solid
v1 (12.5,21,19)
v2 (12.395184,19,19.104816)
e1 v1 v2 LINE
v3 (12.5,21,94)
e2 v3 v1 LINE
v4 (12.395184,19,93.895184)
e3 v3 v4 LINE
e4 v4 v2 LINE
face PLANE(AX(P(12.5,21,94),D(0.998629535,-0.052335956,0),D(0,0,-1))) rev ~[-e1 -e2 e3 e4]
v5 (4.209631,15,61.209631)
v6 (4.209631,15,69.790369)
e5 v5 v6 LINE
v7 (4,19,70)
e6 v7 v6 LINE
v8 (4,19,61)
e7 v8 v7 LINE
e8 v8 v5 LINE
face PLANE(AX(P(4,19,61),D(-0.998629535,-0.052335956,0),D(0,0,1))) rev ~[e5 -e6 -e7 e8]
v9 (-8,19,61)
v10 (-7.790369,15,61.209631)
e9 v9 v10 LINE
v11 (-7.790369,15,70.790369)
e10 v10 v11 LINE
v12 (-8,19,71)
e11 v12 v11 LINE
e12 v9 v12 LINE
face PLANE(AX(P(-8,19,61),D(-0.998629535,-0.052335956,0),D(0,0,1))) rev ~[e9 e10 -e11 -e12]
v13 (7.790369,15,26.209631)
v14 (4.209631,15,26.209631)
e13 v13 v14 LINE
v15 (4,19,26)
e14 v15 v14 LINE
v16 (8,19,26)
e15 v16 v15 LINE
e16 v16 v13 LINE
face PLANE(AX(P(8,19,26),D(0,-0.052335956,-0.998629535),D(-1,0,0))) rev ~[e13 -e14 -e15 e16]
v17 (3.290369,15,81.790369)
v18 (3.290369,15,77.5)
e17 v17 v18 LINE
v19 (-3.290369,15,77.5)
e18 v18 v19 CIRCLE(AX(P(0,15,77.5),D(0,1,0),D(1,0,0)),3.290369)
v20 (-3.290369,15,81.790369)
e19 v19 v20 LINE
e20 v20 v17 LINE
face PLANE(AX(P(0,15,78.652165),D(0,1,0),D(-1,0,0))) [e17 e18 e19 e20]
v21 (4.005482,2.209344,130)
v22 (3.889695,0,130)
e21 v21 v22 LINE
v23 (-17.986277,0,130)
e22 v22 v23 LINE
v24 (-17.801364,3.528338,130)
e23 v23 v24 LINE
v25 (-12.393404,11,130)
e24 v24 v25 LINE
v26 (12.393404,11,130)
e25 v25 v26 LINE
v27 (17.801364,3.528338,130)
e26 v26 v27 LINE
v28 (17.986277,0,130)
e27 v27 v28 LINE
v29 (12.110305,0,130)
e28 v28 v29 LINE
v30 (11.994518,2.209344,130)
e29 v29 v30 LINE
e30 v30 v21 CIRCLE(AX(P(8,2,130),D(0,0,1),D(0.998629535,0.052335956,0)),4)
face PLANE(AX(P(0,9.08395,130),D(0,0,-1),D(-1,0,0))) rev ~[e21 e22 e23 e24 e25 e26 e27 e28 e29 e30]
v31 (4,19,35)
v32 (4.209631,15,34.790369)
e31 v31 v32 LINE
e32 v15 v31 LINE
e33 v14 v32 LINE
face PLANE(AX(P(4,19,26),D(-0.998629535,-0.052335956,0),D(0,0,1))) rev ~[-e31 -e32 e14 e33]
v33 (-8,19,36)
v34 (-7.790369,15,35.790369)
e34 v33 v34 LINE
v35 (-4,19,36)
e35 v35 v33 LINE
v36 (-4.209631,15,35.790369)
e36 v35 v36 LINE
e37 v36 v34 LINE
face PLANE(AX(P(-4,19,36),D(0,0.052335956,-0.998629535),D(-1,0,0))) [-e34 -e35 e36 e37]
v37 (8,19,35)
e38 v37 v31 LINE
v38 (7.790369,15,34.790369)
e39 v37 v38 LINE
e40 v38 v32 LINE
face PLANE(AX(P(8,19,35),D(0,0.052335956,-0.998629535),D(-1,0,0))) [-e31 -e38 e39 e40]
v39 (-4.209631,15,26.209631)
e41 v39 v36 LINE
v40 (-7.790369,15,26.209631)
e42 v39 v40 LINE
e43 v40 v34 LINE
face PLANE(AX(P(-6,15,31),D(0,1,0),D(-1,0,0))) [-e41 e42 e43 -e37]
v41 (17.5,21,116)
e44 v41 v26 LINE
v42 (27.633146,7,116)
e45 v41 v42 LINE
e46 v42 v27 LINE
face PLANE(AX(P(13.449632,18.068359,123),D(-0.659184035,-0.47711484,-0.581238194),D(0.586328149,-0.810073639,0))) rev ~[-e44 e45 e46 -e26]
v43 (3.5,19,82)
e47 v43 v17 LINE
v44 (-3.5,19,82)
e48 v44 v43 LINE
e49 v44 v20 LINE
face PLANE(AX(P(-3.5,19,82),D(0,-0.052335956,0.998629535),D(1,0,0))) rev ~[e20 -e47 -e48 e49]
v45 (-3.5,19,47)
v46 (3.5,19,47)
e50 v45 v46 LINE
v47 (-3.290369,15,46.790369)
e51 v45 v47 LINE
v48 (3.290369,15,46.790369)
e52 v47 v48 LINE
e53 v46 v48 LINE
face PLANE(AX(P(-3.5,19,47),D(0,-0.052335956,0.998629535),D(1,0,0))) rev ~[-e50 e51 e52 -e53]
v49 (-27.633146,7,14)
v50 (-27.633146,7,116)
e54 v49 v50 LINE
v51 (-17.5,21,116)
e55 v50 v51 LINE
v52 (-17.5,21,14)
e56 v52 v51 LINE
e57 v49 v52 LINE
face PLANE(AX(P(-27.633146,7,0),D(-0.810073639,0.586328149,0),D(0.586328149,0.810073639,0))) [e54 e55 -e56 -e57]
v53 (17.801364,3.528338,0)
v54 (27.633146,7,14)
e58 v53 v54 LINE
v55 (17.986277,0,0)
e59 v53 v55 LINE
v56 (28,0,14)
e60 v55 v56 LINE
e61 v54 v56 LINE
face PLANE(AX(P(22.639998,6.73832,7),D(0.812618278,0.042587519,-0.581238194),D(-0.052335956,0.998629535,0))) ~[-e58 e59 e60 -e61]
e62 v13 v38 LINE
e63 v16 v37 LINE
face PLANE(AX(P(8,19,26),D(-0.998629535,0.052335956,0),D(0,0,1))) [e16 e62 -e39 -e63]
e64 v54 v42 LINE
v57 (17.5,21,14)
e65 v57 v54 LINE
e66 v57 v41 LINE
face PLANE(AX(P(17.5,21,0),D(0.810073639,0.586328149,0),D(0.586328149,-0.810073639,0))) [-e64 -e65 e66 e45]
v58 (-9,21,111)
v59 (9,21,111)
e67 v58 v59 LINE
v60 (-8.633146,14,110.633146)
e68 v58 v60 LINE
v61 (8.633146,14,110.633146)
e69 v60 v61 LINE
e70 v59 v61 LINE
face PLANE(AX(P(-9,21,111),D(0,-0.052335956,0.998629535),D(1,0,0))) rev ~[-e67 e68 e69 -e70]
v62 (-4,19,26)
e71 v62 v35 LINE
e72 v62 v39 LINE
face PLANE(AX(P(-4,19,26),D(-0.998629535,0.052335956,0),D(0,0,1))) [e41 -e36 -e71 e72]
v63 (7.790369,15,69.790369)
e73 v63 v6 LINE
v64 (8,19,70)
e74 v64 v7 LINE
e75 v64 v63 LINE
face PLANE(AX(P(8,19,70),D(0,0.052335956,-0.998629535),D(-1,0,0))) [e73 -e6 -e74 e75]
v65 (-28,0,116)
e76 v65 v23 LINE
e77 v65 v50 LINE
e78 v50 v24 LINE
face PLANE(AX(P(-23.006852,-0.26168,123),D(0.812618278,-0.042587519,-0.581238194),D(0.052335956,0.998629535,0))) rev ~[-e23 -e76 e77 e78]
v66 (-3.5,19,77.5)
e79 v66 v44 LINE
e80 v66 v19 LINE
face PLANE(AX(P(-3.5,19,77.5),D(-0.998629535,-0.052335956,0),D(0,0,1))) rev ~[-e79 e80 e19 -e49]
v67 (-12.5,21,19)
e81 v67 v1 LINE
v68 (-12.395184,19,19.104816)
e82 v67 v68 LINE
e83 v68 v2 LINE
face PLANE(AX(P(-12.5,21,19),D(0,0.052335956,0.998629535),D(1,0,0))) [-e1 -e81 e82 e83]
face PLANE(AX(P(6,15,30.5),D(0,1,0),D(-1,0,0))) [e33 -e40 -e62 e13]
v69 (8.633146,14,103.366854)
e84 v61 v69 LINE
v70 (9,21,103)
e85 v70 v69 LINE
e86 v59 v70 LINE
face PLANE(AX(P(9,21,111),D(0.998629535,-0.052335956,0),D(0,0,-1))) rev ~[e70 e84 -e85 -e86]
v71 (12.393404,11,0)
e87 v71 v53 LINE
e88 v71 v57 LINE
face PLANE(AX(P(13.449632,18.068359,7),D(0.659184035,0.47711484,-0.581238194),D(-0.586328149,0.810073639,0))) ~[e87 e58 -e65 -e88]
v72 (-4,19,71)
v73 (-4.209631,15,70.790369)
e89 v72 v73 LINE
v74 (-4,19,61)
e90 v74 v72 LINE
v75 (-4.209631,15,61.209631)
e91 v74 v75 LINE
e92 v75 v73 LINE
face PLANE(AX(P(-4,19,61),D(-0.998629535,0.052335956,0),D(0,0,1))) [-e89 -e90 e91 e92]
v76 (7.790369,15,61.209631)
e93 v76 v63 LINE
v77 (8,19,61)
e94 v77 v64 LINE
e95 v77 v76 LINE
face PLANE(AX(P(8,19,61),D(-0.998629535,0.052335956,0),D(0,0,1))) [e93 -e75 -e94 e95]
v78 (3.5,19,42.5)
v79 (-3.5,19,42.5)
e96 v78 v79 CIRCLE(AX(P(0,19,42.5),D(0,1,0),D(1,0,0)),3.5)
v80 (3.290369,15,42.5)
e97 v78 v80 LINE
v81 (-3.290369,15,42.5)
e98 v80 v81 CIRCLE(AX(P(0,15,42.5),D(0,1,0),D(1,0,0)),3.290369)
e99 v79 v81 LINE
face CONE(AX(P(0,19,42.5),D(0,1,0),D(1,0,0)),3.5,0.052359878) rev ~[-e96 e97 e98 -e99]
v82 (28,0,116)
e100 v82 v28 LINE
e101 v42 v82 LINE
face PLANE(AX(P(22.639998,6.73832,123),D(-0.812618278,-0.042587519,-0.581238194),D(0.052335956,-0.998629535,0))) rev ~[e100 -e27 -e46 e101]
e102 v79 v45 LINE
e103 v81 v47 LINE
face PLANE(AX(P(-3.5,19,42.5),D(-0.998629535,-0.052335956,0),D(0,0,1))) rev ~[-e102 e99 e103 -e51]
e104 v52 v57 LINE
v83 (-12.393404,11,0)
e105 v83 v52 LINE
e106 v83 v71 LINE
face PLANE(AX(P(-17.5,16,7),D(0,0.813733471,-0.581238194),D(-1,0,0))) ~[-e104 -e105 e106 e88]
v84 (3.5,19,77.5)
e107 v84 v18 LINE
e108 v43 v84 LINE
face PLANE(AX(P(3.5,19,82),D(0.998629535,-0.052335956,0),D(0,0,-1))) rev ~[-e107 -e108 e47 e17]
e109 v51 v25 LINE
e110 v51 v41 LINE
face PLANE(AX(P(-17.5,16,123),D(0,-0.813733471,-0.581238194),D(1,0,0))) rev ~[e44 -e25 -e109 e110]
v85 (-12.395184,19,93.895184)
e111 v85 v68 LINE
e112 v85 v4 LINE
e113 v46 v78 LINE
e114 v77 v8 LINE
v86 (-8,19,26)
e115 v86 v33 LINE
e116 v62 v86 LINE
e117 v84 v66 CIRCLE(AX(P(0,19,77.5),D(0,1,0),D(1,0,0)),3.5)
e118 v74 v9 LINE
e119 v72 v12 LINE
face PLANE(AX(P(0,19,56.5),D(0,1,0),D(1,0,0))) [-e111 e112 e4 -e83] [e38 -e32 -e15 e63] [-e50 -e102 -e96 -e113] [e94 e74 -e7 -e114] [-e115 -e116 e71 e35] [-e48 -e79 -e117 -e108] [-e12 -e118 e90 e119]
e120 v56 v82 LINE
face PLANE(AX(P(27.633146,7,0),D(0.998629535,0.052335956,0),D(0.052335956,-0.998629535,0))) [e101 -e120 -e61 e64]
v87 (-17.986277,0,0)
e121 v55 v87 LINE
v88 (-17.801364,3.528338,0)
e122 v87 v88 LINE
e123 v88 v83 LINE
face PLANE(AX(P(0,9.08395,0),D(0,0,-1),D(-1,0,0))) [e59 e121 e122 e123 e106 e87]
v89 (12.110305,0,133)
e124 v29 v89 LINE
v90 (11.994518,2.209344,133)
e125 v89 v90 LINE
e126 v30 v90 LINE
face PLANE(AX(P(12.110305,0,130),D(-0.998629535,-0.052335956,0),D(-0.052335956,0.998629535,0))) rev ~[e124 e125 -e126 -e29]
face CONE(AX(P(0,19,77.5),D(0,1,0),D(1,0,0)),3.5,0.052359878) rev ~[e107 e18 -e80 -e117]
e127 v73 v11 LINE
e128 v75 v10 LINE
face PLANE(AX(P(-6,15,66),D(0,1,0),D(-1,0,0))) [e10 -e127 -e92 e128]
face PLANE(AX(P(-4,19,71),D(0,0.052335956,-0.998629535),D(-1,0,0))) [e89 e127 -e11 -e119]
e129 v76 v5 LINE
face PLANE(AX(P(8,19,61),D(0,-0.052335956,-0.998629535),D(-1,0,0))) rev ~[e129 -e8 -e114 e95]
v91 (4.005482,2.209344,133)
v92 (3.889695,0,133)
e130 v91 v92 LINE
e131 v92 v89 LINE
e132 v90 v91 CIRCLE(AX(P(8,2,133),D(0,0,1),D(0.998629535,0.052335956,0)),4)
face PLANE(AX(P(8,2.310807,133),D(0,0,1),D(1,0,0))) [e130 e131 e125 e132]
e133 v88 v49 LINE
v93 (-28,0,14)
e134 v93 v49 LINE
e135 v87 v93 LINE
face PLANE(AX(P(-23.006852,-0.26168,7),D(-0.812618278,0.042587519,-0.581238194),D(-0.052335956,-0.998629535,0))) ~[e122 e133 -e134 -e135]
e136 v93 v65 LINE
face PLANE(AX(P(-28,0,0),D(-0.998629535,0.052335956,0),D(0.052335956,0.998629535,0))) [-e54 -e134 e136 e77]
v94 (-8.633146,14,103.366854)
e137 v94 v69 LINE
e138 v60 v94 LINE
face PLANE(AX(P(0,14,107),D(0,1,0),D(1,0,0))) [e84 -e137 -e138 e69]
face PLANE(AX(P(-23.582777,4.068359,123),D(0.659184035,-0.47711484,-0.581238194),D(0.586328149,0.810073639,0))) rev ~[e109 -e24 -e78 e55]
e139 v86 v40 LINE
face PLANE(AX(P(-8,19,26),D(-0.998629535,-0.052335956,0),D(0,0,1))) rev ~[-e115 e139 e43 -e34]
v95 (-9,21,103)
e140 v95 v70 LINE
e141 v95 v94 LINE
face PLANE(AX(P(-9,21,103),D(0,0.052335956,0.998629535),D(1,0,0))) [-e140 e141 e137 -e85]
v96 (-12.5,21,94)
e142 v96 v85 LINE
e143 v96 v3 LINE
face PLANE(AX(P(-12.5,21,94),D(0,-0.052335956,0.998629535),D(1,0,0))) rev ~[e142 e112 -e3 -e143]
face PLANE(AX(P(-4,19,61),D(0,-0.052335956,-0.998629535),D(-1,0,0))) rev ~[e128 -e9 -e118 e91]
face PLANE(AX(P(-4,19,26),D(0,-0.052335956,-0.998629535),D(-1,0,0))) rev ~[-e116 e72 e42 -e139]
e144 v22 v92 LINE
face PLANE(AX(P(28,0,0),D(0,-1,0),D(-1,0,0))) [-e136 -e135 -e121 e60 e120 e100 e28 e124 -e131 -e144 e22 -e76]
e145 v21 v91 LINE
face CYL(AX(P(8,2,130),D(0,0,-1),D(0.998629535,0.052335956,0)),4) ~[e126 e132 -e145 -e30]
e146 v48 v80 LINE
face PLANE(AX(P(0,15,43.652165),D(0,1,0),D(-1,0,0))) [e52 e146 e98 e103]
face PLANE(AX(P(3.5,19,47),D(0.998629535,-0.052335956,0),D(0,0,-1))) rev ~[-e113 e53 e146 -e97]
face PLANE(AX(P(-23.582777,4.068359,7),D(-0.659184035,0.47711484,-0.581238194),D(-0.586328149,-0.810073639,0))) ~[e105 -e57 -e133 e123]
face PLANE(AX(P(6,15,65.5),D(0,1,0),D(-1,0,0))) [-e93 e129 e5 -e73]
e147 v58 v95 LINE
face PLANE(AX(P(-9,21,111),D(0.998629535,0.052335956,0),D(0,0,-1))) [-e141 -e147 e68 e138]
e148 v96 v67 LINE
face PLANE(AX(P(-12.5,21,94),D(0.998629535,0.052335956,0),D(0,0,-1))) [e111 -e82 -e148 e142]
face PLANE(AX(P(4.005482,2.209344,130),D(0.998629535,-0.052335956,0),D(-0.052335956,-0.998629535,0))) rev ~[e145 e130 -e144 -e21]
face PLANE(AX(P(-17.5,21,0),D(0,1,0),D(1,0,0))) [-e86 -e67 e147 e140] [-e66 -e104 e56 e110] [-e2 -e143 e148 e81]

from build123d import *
from OCP.BRepFilletAPI import BRepFilletAPI_MakeChamfer

# Parameters (mm, degrees)
EXTRUDE1_DEPTH               = 130
CHAMFER1_SIZE                = 14
CHAMFER1_SIZE2               = 10
CHAMFER2_SIZE                = 10
CHAMFER2_SIZE2               = 14
EXTRUDE2_DEPTH               = 3
SKETCH3_W                    = 25
SKETCH3_H                    = 75
CUT_EXTRUDE1_DEPTH           = 2
CUT_EXTRUDE1_DRAFT           = -3
SKETCH4_W                    = 4
SKETCH4_H                    = 9
CUT_EXTRUDE2_DEPTH           = 4
CUT_EXTRUDE2_DRAFT           = -3
SKETCH4_H_2                  = 10
CUT_EXTRUDE2_PROFILE_2_DEPTH = 4
CUT_EXTRUDE2_PROFILE_2_DRAFT = -3
CUT_EXTRUDE2_PROFILE_3_DEPTH = 4
CUT_EXTRUDE2_PROFILE_3_DRAFT = -3
LPATTERN1_COPY_1_SKETCH_W    = 4
LPATTERN1_COPY_1_SKETCH_H    = 9
LPATTERN1_COPY_1_DEPTH       = 4
LPATTERN1_COPY_1_DRAFT       = -3
LPATTERN1_COPY_2_SKETCH_W    = 4
LPATTERN1_COPY_2_SKETCH_H    = 10
LPATTERN1_COPY_2_DEPTH       = 4
LPATTERN1_COPY_2_DRAFT       = -3
LPATTERN1_COPY_3_DEPTH       = 4
LPATTERN1_COPY_3_DRAFT       = -3
LPATTERN1_COPY_4_SKETCH_W    = 4
LPATTERN1_COPY_4_SKETCH_H    = 10
LPATTERN1_COPY_4_DEPTH       = 4
LPATTERN1_COPY_4_DRAFT       = -3
LPATTERN1_COPY_5_DEPTH       = 4
LPATTERN1_COPY_5_DRAFT       = -3
SKETCH5_W                    = 18
SKETCH5_H                    = 8
CUT_EXTRUDE3_DEPTH           = 7
CUT_EXTRUDE3_DRAFT           = -3


with BuildPart() as part:
    # Sketch1 → Extrude1 (new body)
    with BuildSketch(Plane.XY):
        Polygon((17.5, 21), (27.633145545, 7), (28, 0), (-28, 0), (-27.633145545, 7), (-17.5, 21), align=None)
    extrude(amount=EXTRUDE1_DEPTH)

    # Chamfer1: one chamfer whose edges measure the first distance from different faces: ONE call of the kernel's chamfer builder (chamfer() names one face for all edges)
    chamfer1_edges_1 = [part.edges().sort_by_distance(p)[0] for p in [
        (0, 21, 130),
    ]]
    chamfer1_side_1 = [part.faces().sort_by_distance(p)[0] for p in [
        (0, 21, 65),
    ]]
    chamfer1_edges_2 = [part.edges().sort_by_distance(p)[0] for p in [
        (-22.566572773, 14, 130),
    ]]
    chamfer1_side_2 = [part.faces().sort_by_distance(p)[0] for p in [
        (-22.566572773, 14, 65),
    ]]
    chamfer1_edges_3 = [part.edges().sort_by_distance(p)[0] for p in [
        (-27.816572773, 3.5, 130),
    ]]
    chamfer1_side_3 = [part.faces().sort_by_distance(p)[0] for p in [
        (-27.816572773, 3.5, 65),
    ]]
    chamfer1_edges_4 = [part.edges().sort_by_distance(p)[0] for p in [
        (27.816572773, 3.5, 130),
    ]]
    chamfer1_side_4 = [part.faces().sort_by_distance(p)[0] for p in [
        (27.816572773, 3.5, 65),
    ]]
    chamfer1_edges_5 = [part.edges().sort_by_distance(p)[0] for p in [
        (22.566572773, 14, 130),
    ]]
    chamfer1_side_5 = [part.faces().sort_by_distance(p)[0] for p in [
        (22.566572773, 14, 65),
    ]]
    chamfer1 = BRepFilletAPI_MakeChamfer(part.part.solid().wrapped)
    for e in chamfer1_edges_1:
        chamfer1.Add(CHAMFER1_SIZE, CHAMFER1_SIZE2, e.wrapped, chamfer1_side_1[0].wrapped)  # the first distance lies on this face
    for e in chamfer1_edges_2:
        chamfer1.Add(CHAMFER1_SIZE, CHAMFER1_SIZE2, e.wrapped, chamfer1_side_2[0].wrapped)  # the first distance lies on this face
    for e in chamfer1_edges_3:
        chamfer1.Add(CHAMFER1_SIZE, CHAMFER1_SIZE2, e.wrapped, chamfer1_side_3[0].wrapped)  # the first distance lies on this face
    for e in chamfer1_edges_4:
        chamfer1.Add(CHAMFER1_SIZE, CHAMFER1_SIZE2, e.wrapped, chamfer1_side_4[0].wrapped)  # the first distance lies on this face
    for e in chamfer1_edges_5:
        chamfer1.Add(CHAMFER1_SIZE, CHAMFER1_SIZE2, e.wrapped, chamfer1_side_5[0].wrapped)  # the first distance lies on this face
    add(Compound.cast(chamfer1.Shape()), mode=Mode.REPLACE)

    # Chamfer2
    chamfer2_edges = [part.edges().sort_by_distance(p)[0] for p in [
        (-27.816572773, 3.5, 0),
        (-22.566572773, 14, 0),
        (0, 21, 0),
        (22.566572773, 14, 0),
        (27.816572773, 3.5, 0),
    ]]
    chamfer2_side = [part.faces().sort_by_distance(p)[0] for p in [
        (0, 9.6691811, 0),
    ]]
    chamfer(chamfer2_edges, length=CHAMFER2_SIZE, length2=CHAMFER2_SIZE2, reference=chamfer2_side[0])

    # Sketch2 → Extrude2 (add)
    with BuildSketch(Plane(origin=(5.745184329, -1.894827458, 130), x_dir=(1, 0, 0), z_dir=(0, 0, 1))):
        with BuildLine():
            Line((-1.855489271, 1.894827458), (6.365120614, 1.894827458))
            Line((6.365120614, 1.894827458), (6.24933381, 4.104171283))
            ThreePointArc((6.24933381, 4.104171283), (2.254815671, 7.894827458), (-1.739702468, 4.104171283))
            Line((-1.739702468, 4.104171283), (-1.855489271, 1.894827458))
        make_face()
    extrude(amount=EXTRUDE2_DEPTH)


with BuildPart() as cut_extrude1_tool:
    # Sketch3 → Cut-Extrude1 (with draft: the straight prism first)
    with BuildSketch(Plane(origin=(3.492514123, 21, 107.578199621), x_dir=(1, 0, 0), z_dir=(0, 1, 0))):
        with Locations((-3.492514123, 51.078199621)):
            Rectangle(SKETCH3_W, SKETCH3_H)
    extrude(amount=-CUT_EXTRUDE1_DEPTH)
    # Cut-Extrude1: the draft: its side faces are tilted about the plane it starts from
    cut_extrude1_sides = [cut_extrude1_tool.faces().sort_by_distance(p)[0] for p in [
        (0, 20, 19),
        (-12.5, 20, 56.5),
        (0, 20, 94),
        (12.5, 20, 56.5),
    ]]
    draft(cut_extrude1_sides, Plane(origin=(3.492514123, 21, 107.578199621), x_dir=(1, 0, 0), z_dir=(0, 1, 0)), CUT_EXTRUDE1_DRAFT)


with BuildPart() as part_1:
    add(part.part)

    # Cut-Extrude1: cut by cut_extrude1_tool
    add(cut_extrude1_tool.part, mode=Mode.SUBTRACT)


with BuildPart() as cut_extrude2_tool:
    # Sketch4 → Cut-Extrude2 (with draft: the straight prism first)
    with BuildSketch(Plane(origin=(-3.08260661, 19, 40.468913064), x_dir=(-1, 0, 0), z_dir=(0, 1, 0))):
        with Locations((-9.08260661, -9.968913064)):
            Rectangle(SKETCH4_W, SKETCH4_H)
    extrude(amount=-CUT_EXTRUDE2_DEPTH)
    # Cut-Extrude2: the draft: its side faces are tilted about the plane it starts from
    cut_extrude2_sides = [cut_extrude2_tool.faces().sort_by_distance(p)[0] for p in [
        (4, 17, 30.5),
        (6, 17, 35),
        (8, 17, 30.5),
        (6, 17, 26),
    ]]
    draft(cut_extrude2_sides, Plane(origin=(-3.08260661, 19, 40.468913064), x_dir=(-1, 0, 0), z_dir=(0, 1, 0)), CUT_EXTRUDE2_DRAFT)


with BuildPart() as part_2:
    add(part_1.part)

    # Cut-Extrude2: cut by cut_extrude2_tool
    add(cut_extrude2_tool.part, mode=Mode.SUBTRACT)


with BuildPart() as cut_extrude2_profile_2_tool:
    # Sketch4 → Cut-Extrude2 profile 2 (with draft: the straight prism first)
    with BuildSketch(Plane(origin=(-3.08260661, 19, 40.468913064), x_dir=(-1, 0, 0), z_dir=(0, 1, 0))):
        with Locations((2.91739339, -9.468913064)):
            Rectangle(SKETCH4_W, SKETCH4_H_2)
    extrude(amount=-CUT_EXTRUDE2_PROFILE_2_DEPTH)
    # Cut-Extrude2 profile 2: the draft: its side faces are tilted about the plane it starts from
    cut_extrude2_profile_2_sides = [cut_extrude2_profile_2_tool.faces().sort_by_distance(p)[0] for p in [
        (-8, 17, 31),
        (-6, 17, 36),
        (-4, 17, 31),
        (-6, 17, 26),
    ]]
    draft(cut_extrude2_profile_2_sides, Plane(origin=(-3.08260661, 19, 40.468913064), x_dir=(-1, 0, 0), z_dir=(0, 1, 0)), CUT_EXTRUDE2_PROFILE_2_DRAFT)


with BuildPart() as part_3:
    add(part_2.part)

    # Cut-Extrude2 profile 2: cut by cut_extrude2_profile_2_tool
    add(cut_extrude2_profile_2_tool.part, mode=Mode.SUBTRACT)


with BuildPart() as cut_extrude2_profile_3_tool:
    # Sketch4 → Cut-Extrude2 profile 3 (with draft: the straight prism first)
    with BuildSketch(Plane(origin=(-3.08260661, 19, 40.468913064), x_dir=(-1, 0, 0), z_dir=(0, 1, 0))):
        with BuildLine():
            Line((-6.58260661, 6.531086936), (-6.58260661, 2.031086936))
            ThreePointArc((-6.58260661, 2.031086936), (-3.08260661, -1.468913064), (0.41739339, 2.031086936))
            Line((0.41739339, 2.031086936), (0.41739339, 6.531086936))
            Line((0.41739339, 6.531086936), (-6.58260661, 6.531086936))
        make_face()
    extrude(amount=-CUT_EXTRUDE2_PROFILE_3_DEPTH)
    # Cut-Extrude2 profile 3: the draft: its side faces are tilted about the plane it starts from
    cut_extrude2_profile_3_sides = [cut_extrude2_profile_3_tool.faces().sort_by_distance(p)[0] for p in [
        (-3.5, 17, 44.75),
        (0, 17, 47),
        (3.5, 17, 44.75),
        (0, 17, 39),
    ]]
    draft(cut_extrude2_profile_3_sides, Plane(origin=(-3.08260661, 19, 40.468913064), x_dir=(-1, 0, 0), z_dir=(0, 1, 0)), CUT_EXTRUDE2_PROFILE_3_DRAFT)


with BuildPart() as part_4:
    add(part_3.part)

    # Cut-Extrude2 profile 3: cut by cut_extrude2_profile_3_tool
    add(cut_extrude2_profile_3_tool.part, mode=Mode.SUBTRACT)


with BuildPart() as lpattern1_copy_1_tool:
    # LPattern1 copy 1 sketch → LPattern1 copy 1 (with draft: the straight prism first)
    with BuildSketch(Plane(origin=(-3.08260661, 19, 75.468913064), x_dir=(-1, 0, 0), z_dir=(0, 1, 0))):
        with Locations((-9.08260661, -9.968913064)):
            Rectangle(LPATTERN1_COPY_1_SKETCH_W, LPATTERN1_COPY_1_SKETCH_H)
    extrude(amount=-LPATTERN1_COPY_1_DEPTH)
    # LPattern1 copy 1: the draft: its side faces are tilted about the plane it starts from
    lpattern1_copy_1_sides = [lpattern1_copy_1_tool.faces().sort_by_distance(p)[0] for p in [
        (4, 17, 65.5),
        (6, 17, 70),
        (8, 17, 65.5),
        (6, 17, 61),
    ]]
    draft(lpattern1_copy_1_sides, Plane(origin=(-3.08260661, 19, 75.468913064), x_dir=(-1, 0, 0), z_dir=(0, 1, 0)), LPATTERN1_COPY_1_DRAFT)


with BuildPart() as part_5:
    add(part_4.part)

    # LPattern1 copy 1: cut by lpattern1_copy_1_tool
    add(lpattern1_copy_1_tool.part, mode=Mode.SUBTRACT)


with BuildPart() as lpattern1_copy_2_tool:
    # LPattern1 copy 2 sketch → LPattern1 copy 2 (with draft: the straight prism first)
    with BuildSketch(Plane(origin=(-3.08260661, 19, 75.468913064), x_dir=(-1, 0, 0), z_dir=(0, 1, 0))):
        with Locations((2.91739339, -9.468913064)):
            Rectangle(LPATTERN1_COPY_2_SKETCH_W, LPATTERN1_COPY_2_SKETCH_H)
    extrude(amount=-LPATTERN1_COPY_2_DEPTH)
    # LPattern1 copy 2: the draft: its side faces are tilted about the plane it starts from
    lpattern1_copy_2_sides = [lpattern1_copy_2_tool.faces().sort_by_distance(p)[0] for p in [
        (-8, 17, 66),
        (-6, 17, 71),
        (-4, 17, 66),
        (-6, 17, 61),
    ]]
    draft(lpattern1_copy_2_sides, Plane(origin=(-3.08260661, 19, 75.468913064), x_dir=(-1, 0, 0), z_dir=(0, 1, 0)), LPATTERN1_COPY_2_DRAFT)


with BuildPart() as part_6:
    add(part_5.part)

    # LPattern1 copy 2: cut by lpattern1_copy_2_tool
    add(lpattern1_copy_2_tool.part, mode=Mode.SUBTRACT)


with BuildPart() as lpattern1_copy_3_tool:
    # LPattern1 copy 3 sketch → LPattern1 copy 3 (with draft: the straight prism first)
    with BuildSketch(Plane(origin=(-3.08260661, 19, 75.468913064), x_dir=(-1, 0, 0), z_dir=(0, 1, 0))):
        with BuildLine():
            Line((-6.58260661, 6.531086936), (-6.58260661, 2.031086936))
            ThreePointArc((-6.58260661, 2.031086936), (-3.08260661, -1.468913064), (0.41739339, 2.031086936))
            Line((0.41739339, 2.031086936), (0.41739339, 6.531086936))
            Line((0.41739339, 6.531086936), (-6.58260661, 6.531086936))
        make_face()
    extrude(amount=-LPATTERN1_COPY_3_DEPTH)
    # LPattern1 copy 3: the draft: its side faces are tilted about the plane it starts from
    lpattern1_copy_3_sides = [lpattern1_copy_3_tool.faces().sort_by_distance(p)[0] for p in [
        (-3.5, 17, 79.75),
        (0, 17, 82),
        (3.5, 17, 79.75),
        (0, 17, 74),
    ]]
    draft(lpattern1_copy_3_sides, Plane(origin=(-3.08260661, 19, 75.468913064), x_dir=(-1, 0, 0), z_dir=(0, 1, 0)), LPATTERN1_COPY_3_DRAFT)


with BuildPart() as part_7:
    add(part_6.part)

    # LPattern1 copy 3: cut by lpattern1_copy_3_tool
    add(lpattern1_copy_3_tool.part, mode=Mode.SUBTRACT)


with BuildPart() as lpattern1_copy_4_tool:
    # LPattern1 copy 4 sketch → LPattern1 copy 4 (with draft: the straight prism first)
    with BuildSketch(Plane(origin=(-3.08260661, 19, 75.468913064), x_dir=(-1, 0, 0), z_dir=(0, 1, 0))):
        with Locations((2.91739339, -9.468913064)):
            Rectangle(LPATTERN1_COPY_4_SKETCH_W, LPATTERN1_COPY_4_SKETCH_H)
    extrude(amount=-LPATTERN1_COPY_4_DEPTH)
    # LPattern1 copy 4: the draft: its side faces are tilted about the plane it starts from
    lpattern1_copy_4_sides = [lpattern1_copy_4_tool.faces().sort_by_distance(p)[0] for p in [
        (-8, 17, 66),
        (-6, 17, 71),
        (-4, 17, 66),
        (-6, 17, 61),
    ]]
    draft(lpattern1_copy_4_sides, Plane(origin=(-3.08260661, 19, 75.468913064), x_dir=(-1, 0, 0), z_dir=(0, 1, 0)), LPATTERN1_COPY_4_DRAFT)


with BuildPart() as part_8:
    add(part_7.part)

    # LPattern1 copy 4: cut by lpattern1_copy_4_tool
    add(lpattern1_copy_4_tool.part, mode=Mode.SUBTRACT)


with BuildPart() as lpattern1_copy_5_tool:
    # LPattern1 copy 5 sketch → LPattern1 copy 5 (with draft: the straight prism first)
    with BuildSketch(Plane(origin=(-3.08260661, 19, 75.468913064), x_dir=(-1, 0, 0), z_dir=(0, 1, 0))):
        with BuildLine():
            Line((-6.58260661, 6.531086936), (-6.58260661, 2.031086936))
            ThreePointArc((-6.58260661, 2.031086936), (-3.08260661, -1.468913064), (0.41739339, 2.031086936))
            Line((0.41739339, 2.031086936), (0.41739339, 6.531086936))
            Line((0.41739339, 6.531086936), (-6.58260661, 6.531086936))
        make_face()
    extrude(amount=-LPATTERN1_COPY_5_DEPTH)
    # LPattern1 copy 5: the draft: its side faces are tilted about the plane it starts from
    lpattern1_copy_5_sides = [lpattern1_copy_5_tool.faces().sort_by_distance(p)[0] for p in [
        (-3.5, 17, 79.75),
        (0, 17, 82),
        (3.5, 17, 79.75),
        (0, 17, 74),
    ]]
    draft(lpattern1_copy_5_sides, Plane(origin=(-3.08260661, 19, 75.468913064), x_dir=(-1, 0, 0), z_dir=(0, 1, 0)), LPATTERN1_COPY_5_DRAFT)


with BuildPart() as part_9:
    add(part_8.part)

    # LPattern1 copy 5: cut by lpattern1_copy_5_tool
    add(lpattern1_copy_5_tool.part, mode=Mode.SUBTRACT)


with BuildPart() as cut_extrude3_tool:
    # Sketch5 → Cut-Extrude3 (with draft: the straight prism first)
    with BuildSketch(Plane(origin=(0.792567218, 21, 213.513140982), x_dir=(1, 0, 0), z_dir=(0, 1, 0))):
        with Locations((-0.792567218, 106.513140982)):
            Rectangle(SKETCH5_W, SKETCH5_H)
    extrude(amount=-CUT_EXTRUDE3_DEPTH)
    # Cut-Extrude3: the draft: its side faces are tilted about the plane it starts from
    cut_extrude3_sides = [cut_extrude3_tool.faces().sort_by_distance(p)[0] for p in [
        (0, 17.5, 111),
        (9, 17.5, 107),
        (0, 17.5, 103),
        (-9, 17.5, 107),
    ]]
    draft(cut_extrude3_sides, Plane(origin=(0.792567218, 21, 213.513140982), x_dir=(1, 0, 0), z_dir=(0, 1, 0)), CUT_EXTRUDE3_DRAFT)


with BuildPart() as part_10:
    add(part_9.part)

    # Cut-Extrude3: cut by cut_extrude3_tool
    add(cut_extrude3_tool.part, mode=Mode.SUBTRACT)


solid = part_10.part
